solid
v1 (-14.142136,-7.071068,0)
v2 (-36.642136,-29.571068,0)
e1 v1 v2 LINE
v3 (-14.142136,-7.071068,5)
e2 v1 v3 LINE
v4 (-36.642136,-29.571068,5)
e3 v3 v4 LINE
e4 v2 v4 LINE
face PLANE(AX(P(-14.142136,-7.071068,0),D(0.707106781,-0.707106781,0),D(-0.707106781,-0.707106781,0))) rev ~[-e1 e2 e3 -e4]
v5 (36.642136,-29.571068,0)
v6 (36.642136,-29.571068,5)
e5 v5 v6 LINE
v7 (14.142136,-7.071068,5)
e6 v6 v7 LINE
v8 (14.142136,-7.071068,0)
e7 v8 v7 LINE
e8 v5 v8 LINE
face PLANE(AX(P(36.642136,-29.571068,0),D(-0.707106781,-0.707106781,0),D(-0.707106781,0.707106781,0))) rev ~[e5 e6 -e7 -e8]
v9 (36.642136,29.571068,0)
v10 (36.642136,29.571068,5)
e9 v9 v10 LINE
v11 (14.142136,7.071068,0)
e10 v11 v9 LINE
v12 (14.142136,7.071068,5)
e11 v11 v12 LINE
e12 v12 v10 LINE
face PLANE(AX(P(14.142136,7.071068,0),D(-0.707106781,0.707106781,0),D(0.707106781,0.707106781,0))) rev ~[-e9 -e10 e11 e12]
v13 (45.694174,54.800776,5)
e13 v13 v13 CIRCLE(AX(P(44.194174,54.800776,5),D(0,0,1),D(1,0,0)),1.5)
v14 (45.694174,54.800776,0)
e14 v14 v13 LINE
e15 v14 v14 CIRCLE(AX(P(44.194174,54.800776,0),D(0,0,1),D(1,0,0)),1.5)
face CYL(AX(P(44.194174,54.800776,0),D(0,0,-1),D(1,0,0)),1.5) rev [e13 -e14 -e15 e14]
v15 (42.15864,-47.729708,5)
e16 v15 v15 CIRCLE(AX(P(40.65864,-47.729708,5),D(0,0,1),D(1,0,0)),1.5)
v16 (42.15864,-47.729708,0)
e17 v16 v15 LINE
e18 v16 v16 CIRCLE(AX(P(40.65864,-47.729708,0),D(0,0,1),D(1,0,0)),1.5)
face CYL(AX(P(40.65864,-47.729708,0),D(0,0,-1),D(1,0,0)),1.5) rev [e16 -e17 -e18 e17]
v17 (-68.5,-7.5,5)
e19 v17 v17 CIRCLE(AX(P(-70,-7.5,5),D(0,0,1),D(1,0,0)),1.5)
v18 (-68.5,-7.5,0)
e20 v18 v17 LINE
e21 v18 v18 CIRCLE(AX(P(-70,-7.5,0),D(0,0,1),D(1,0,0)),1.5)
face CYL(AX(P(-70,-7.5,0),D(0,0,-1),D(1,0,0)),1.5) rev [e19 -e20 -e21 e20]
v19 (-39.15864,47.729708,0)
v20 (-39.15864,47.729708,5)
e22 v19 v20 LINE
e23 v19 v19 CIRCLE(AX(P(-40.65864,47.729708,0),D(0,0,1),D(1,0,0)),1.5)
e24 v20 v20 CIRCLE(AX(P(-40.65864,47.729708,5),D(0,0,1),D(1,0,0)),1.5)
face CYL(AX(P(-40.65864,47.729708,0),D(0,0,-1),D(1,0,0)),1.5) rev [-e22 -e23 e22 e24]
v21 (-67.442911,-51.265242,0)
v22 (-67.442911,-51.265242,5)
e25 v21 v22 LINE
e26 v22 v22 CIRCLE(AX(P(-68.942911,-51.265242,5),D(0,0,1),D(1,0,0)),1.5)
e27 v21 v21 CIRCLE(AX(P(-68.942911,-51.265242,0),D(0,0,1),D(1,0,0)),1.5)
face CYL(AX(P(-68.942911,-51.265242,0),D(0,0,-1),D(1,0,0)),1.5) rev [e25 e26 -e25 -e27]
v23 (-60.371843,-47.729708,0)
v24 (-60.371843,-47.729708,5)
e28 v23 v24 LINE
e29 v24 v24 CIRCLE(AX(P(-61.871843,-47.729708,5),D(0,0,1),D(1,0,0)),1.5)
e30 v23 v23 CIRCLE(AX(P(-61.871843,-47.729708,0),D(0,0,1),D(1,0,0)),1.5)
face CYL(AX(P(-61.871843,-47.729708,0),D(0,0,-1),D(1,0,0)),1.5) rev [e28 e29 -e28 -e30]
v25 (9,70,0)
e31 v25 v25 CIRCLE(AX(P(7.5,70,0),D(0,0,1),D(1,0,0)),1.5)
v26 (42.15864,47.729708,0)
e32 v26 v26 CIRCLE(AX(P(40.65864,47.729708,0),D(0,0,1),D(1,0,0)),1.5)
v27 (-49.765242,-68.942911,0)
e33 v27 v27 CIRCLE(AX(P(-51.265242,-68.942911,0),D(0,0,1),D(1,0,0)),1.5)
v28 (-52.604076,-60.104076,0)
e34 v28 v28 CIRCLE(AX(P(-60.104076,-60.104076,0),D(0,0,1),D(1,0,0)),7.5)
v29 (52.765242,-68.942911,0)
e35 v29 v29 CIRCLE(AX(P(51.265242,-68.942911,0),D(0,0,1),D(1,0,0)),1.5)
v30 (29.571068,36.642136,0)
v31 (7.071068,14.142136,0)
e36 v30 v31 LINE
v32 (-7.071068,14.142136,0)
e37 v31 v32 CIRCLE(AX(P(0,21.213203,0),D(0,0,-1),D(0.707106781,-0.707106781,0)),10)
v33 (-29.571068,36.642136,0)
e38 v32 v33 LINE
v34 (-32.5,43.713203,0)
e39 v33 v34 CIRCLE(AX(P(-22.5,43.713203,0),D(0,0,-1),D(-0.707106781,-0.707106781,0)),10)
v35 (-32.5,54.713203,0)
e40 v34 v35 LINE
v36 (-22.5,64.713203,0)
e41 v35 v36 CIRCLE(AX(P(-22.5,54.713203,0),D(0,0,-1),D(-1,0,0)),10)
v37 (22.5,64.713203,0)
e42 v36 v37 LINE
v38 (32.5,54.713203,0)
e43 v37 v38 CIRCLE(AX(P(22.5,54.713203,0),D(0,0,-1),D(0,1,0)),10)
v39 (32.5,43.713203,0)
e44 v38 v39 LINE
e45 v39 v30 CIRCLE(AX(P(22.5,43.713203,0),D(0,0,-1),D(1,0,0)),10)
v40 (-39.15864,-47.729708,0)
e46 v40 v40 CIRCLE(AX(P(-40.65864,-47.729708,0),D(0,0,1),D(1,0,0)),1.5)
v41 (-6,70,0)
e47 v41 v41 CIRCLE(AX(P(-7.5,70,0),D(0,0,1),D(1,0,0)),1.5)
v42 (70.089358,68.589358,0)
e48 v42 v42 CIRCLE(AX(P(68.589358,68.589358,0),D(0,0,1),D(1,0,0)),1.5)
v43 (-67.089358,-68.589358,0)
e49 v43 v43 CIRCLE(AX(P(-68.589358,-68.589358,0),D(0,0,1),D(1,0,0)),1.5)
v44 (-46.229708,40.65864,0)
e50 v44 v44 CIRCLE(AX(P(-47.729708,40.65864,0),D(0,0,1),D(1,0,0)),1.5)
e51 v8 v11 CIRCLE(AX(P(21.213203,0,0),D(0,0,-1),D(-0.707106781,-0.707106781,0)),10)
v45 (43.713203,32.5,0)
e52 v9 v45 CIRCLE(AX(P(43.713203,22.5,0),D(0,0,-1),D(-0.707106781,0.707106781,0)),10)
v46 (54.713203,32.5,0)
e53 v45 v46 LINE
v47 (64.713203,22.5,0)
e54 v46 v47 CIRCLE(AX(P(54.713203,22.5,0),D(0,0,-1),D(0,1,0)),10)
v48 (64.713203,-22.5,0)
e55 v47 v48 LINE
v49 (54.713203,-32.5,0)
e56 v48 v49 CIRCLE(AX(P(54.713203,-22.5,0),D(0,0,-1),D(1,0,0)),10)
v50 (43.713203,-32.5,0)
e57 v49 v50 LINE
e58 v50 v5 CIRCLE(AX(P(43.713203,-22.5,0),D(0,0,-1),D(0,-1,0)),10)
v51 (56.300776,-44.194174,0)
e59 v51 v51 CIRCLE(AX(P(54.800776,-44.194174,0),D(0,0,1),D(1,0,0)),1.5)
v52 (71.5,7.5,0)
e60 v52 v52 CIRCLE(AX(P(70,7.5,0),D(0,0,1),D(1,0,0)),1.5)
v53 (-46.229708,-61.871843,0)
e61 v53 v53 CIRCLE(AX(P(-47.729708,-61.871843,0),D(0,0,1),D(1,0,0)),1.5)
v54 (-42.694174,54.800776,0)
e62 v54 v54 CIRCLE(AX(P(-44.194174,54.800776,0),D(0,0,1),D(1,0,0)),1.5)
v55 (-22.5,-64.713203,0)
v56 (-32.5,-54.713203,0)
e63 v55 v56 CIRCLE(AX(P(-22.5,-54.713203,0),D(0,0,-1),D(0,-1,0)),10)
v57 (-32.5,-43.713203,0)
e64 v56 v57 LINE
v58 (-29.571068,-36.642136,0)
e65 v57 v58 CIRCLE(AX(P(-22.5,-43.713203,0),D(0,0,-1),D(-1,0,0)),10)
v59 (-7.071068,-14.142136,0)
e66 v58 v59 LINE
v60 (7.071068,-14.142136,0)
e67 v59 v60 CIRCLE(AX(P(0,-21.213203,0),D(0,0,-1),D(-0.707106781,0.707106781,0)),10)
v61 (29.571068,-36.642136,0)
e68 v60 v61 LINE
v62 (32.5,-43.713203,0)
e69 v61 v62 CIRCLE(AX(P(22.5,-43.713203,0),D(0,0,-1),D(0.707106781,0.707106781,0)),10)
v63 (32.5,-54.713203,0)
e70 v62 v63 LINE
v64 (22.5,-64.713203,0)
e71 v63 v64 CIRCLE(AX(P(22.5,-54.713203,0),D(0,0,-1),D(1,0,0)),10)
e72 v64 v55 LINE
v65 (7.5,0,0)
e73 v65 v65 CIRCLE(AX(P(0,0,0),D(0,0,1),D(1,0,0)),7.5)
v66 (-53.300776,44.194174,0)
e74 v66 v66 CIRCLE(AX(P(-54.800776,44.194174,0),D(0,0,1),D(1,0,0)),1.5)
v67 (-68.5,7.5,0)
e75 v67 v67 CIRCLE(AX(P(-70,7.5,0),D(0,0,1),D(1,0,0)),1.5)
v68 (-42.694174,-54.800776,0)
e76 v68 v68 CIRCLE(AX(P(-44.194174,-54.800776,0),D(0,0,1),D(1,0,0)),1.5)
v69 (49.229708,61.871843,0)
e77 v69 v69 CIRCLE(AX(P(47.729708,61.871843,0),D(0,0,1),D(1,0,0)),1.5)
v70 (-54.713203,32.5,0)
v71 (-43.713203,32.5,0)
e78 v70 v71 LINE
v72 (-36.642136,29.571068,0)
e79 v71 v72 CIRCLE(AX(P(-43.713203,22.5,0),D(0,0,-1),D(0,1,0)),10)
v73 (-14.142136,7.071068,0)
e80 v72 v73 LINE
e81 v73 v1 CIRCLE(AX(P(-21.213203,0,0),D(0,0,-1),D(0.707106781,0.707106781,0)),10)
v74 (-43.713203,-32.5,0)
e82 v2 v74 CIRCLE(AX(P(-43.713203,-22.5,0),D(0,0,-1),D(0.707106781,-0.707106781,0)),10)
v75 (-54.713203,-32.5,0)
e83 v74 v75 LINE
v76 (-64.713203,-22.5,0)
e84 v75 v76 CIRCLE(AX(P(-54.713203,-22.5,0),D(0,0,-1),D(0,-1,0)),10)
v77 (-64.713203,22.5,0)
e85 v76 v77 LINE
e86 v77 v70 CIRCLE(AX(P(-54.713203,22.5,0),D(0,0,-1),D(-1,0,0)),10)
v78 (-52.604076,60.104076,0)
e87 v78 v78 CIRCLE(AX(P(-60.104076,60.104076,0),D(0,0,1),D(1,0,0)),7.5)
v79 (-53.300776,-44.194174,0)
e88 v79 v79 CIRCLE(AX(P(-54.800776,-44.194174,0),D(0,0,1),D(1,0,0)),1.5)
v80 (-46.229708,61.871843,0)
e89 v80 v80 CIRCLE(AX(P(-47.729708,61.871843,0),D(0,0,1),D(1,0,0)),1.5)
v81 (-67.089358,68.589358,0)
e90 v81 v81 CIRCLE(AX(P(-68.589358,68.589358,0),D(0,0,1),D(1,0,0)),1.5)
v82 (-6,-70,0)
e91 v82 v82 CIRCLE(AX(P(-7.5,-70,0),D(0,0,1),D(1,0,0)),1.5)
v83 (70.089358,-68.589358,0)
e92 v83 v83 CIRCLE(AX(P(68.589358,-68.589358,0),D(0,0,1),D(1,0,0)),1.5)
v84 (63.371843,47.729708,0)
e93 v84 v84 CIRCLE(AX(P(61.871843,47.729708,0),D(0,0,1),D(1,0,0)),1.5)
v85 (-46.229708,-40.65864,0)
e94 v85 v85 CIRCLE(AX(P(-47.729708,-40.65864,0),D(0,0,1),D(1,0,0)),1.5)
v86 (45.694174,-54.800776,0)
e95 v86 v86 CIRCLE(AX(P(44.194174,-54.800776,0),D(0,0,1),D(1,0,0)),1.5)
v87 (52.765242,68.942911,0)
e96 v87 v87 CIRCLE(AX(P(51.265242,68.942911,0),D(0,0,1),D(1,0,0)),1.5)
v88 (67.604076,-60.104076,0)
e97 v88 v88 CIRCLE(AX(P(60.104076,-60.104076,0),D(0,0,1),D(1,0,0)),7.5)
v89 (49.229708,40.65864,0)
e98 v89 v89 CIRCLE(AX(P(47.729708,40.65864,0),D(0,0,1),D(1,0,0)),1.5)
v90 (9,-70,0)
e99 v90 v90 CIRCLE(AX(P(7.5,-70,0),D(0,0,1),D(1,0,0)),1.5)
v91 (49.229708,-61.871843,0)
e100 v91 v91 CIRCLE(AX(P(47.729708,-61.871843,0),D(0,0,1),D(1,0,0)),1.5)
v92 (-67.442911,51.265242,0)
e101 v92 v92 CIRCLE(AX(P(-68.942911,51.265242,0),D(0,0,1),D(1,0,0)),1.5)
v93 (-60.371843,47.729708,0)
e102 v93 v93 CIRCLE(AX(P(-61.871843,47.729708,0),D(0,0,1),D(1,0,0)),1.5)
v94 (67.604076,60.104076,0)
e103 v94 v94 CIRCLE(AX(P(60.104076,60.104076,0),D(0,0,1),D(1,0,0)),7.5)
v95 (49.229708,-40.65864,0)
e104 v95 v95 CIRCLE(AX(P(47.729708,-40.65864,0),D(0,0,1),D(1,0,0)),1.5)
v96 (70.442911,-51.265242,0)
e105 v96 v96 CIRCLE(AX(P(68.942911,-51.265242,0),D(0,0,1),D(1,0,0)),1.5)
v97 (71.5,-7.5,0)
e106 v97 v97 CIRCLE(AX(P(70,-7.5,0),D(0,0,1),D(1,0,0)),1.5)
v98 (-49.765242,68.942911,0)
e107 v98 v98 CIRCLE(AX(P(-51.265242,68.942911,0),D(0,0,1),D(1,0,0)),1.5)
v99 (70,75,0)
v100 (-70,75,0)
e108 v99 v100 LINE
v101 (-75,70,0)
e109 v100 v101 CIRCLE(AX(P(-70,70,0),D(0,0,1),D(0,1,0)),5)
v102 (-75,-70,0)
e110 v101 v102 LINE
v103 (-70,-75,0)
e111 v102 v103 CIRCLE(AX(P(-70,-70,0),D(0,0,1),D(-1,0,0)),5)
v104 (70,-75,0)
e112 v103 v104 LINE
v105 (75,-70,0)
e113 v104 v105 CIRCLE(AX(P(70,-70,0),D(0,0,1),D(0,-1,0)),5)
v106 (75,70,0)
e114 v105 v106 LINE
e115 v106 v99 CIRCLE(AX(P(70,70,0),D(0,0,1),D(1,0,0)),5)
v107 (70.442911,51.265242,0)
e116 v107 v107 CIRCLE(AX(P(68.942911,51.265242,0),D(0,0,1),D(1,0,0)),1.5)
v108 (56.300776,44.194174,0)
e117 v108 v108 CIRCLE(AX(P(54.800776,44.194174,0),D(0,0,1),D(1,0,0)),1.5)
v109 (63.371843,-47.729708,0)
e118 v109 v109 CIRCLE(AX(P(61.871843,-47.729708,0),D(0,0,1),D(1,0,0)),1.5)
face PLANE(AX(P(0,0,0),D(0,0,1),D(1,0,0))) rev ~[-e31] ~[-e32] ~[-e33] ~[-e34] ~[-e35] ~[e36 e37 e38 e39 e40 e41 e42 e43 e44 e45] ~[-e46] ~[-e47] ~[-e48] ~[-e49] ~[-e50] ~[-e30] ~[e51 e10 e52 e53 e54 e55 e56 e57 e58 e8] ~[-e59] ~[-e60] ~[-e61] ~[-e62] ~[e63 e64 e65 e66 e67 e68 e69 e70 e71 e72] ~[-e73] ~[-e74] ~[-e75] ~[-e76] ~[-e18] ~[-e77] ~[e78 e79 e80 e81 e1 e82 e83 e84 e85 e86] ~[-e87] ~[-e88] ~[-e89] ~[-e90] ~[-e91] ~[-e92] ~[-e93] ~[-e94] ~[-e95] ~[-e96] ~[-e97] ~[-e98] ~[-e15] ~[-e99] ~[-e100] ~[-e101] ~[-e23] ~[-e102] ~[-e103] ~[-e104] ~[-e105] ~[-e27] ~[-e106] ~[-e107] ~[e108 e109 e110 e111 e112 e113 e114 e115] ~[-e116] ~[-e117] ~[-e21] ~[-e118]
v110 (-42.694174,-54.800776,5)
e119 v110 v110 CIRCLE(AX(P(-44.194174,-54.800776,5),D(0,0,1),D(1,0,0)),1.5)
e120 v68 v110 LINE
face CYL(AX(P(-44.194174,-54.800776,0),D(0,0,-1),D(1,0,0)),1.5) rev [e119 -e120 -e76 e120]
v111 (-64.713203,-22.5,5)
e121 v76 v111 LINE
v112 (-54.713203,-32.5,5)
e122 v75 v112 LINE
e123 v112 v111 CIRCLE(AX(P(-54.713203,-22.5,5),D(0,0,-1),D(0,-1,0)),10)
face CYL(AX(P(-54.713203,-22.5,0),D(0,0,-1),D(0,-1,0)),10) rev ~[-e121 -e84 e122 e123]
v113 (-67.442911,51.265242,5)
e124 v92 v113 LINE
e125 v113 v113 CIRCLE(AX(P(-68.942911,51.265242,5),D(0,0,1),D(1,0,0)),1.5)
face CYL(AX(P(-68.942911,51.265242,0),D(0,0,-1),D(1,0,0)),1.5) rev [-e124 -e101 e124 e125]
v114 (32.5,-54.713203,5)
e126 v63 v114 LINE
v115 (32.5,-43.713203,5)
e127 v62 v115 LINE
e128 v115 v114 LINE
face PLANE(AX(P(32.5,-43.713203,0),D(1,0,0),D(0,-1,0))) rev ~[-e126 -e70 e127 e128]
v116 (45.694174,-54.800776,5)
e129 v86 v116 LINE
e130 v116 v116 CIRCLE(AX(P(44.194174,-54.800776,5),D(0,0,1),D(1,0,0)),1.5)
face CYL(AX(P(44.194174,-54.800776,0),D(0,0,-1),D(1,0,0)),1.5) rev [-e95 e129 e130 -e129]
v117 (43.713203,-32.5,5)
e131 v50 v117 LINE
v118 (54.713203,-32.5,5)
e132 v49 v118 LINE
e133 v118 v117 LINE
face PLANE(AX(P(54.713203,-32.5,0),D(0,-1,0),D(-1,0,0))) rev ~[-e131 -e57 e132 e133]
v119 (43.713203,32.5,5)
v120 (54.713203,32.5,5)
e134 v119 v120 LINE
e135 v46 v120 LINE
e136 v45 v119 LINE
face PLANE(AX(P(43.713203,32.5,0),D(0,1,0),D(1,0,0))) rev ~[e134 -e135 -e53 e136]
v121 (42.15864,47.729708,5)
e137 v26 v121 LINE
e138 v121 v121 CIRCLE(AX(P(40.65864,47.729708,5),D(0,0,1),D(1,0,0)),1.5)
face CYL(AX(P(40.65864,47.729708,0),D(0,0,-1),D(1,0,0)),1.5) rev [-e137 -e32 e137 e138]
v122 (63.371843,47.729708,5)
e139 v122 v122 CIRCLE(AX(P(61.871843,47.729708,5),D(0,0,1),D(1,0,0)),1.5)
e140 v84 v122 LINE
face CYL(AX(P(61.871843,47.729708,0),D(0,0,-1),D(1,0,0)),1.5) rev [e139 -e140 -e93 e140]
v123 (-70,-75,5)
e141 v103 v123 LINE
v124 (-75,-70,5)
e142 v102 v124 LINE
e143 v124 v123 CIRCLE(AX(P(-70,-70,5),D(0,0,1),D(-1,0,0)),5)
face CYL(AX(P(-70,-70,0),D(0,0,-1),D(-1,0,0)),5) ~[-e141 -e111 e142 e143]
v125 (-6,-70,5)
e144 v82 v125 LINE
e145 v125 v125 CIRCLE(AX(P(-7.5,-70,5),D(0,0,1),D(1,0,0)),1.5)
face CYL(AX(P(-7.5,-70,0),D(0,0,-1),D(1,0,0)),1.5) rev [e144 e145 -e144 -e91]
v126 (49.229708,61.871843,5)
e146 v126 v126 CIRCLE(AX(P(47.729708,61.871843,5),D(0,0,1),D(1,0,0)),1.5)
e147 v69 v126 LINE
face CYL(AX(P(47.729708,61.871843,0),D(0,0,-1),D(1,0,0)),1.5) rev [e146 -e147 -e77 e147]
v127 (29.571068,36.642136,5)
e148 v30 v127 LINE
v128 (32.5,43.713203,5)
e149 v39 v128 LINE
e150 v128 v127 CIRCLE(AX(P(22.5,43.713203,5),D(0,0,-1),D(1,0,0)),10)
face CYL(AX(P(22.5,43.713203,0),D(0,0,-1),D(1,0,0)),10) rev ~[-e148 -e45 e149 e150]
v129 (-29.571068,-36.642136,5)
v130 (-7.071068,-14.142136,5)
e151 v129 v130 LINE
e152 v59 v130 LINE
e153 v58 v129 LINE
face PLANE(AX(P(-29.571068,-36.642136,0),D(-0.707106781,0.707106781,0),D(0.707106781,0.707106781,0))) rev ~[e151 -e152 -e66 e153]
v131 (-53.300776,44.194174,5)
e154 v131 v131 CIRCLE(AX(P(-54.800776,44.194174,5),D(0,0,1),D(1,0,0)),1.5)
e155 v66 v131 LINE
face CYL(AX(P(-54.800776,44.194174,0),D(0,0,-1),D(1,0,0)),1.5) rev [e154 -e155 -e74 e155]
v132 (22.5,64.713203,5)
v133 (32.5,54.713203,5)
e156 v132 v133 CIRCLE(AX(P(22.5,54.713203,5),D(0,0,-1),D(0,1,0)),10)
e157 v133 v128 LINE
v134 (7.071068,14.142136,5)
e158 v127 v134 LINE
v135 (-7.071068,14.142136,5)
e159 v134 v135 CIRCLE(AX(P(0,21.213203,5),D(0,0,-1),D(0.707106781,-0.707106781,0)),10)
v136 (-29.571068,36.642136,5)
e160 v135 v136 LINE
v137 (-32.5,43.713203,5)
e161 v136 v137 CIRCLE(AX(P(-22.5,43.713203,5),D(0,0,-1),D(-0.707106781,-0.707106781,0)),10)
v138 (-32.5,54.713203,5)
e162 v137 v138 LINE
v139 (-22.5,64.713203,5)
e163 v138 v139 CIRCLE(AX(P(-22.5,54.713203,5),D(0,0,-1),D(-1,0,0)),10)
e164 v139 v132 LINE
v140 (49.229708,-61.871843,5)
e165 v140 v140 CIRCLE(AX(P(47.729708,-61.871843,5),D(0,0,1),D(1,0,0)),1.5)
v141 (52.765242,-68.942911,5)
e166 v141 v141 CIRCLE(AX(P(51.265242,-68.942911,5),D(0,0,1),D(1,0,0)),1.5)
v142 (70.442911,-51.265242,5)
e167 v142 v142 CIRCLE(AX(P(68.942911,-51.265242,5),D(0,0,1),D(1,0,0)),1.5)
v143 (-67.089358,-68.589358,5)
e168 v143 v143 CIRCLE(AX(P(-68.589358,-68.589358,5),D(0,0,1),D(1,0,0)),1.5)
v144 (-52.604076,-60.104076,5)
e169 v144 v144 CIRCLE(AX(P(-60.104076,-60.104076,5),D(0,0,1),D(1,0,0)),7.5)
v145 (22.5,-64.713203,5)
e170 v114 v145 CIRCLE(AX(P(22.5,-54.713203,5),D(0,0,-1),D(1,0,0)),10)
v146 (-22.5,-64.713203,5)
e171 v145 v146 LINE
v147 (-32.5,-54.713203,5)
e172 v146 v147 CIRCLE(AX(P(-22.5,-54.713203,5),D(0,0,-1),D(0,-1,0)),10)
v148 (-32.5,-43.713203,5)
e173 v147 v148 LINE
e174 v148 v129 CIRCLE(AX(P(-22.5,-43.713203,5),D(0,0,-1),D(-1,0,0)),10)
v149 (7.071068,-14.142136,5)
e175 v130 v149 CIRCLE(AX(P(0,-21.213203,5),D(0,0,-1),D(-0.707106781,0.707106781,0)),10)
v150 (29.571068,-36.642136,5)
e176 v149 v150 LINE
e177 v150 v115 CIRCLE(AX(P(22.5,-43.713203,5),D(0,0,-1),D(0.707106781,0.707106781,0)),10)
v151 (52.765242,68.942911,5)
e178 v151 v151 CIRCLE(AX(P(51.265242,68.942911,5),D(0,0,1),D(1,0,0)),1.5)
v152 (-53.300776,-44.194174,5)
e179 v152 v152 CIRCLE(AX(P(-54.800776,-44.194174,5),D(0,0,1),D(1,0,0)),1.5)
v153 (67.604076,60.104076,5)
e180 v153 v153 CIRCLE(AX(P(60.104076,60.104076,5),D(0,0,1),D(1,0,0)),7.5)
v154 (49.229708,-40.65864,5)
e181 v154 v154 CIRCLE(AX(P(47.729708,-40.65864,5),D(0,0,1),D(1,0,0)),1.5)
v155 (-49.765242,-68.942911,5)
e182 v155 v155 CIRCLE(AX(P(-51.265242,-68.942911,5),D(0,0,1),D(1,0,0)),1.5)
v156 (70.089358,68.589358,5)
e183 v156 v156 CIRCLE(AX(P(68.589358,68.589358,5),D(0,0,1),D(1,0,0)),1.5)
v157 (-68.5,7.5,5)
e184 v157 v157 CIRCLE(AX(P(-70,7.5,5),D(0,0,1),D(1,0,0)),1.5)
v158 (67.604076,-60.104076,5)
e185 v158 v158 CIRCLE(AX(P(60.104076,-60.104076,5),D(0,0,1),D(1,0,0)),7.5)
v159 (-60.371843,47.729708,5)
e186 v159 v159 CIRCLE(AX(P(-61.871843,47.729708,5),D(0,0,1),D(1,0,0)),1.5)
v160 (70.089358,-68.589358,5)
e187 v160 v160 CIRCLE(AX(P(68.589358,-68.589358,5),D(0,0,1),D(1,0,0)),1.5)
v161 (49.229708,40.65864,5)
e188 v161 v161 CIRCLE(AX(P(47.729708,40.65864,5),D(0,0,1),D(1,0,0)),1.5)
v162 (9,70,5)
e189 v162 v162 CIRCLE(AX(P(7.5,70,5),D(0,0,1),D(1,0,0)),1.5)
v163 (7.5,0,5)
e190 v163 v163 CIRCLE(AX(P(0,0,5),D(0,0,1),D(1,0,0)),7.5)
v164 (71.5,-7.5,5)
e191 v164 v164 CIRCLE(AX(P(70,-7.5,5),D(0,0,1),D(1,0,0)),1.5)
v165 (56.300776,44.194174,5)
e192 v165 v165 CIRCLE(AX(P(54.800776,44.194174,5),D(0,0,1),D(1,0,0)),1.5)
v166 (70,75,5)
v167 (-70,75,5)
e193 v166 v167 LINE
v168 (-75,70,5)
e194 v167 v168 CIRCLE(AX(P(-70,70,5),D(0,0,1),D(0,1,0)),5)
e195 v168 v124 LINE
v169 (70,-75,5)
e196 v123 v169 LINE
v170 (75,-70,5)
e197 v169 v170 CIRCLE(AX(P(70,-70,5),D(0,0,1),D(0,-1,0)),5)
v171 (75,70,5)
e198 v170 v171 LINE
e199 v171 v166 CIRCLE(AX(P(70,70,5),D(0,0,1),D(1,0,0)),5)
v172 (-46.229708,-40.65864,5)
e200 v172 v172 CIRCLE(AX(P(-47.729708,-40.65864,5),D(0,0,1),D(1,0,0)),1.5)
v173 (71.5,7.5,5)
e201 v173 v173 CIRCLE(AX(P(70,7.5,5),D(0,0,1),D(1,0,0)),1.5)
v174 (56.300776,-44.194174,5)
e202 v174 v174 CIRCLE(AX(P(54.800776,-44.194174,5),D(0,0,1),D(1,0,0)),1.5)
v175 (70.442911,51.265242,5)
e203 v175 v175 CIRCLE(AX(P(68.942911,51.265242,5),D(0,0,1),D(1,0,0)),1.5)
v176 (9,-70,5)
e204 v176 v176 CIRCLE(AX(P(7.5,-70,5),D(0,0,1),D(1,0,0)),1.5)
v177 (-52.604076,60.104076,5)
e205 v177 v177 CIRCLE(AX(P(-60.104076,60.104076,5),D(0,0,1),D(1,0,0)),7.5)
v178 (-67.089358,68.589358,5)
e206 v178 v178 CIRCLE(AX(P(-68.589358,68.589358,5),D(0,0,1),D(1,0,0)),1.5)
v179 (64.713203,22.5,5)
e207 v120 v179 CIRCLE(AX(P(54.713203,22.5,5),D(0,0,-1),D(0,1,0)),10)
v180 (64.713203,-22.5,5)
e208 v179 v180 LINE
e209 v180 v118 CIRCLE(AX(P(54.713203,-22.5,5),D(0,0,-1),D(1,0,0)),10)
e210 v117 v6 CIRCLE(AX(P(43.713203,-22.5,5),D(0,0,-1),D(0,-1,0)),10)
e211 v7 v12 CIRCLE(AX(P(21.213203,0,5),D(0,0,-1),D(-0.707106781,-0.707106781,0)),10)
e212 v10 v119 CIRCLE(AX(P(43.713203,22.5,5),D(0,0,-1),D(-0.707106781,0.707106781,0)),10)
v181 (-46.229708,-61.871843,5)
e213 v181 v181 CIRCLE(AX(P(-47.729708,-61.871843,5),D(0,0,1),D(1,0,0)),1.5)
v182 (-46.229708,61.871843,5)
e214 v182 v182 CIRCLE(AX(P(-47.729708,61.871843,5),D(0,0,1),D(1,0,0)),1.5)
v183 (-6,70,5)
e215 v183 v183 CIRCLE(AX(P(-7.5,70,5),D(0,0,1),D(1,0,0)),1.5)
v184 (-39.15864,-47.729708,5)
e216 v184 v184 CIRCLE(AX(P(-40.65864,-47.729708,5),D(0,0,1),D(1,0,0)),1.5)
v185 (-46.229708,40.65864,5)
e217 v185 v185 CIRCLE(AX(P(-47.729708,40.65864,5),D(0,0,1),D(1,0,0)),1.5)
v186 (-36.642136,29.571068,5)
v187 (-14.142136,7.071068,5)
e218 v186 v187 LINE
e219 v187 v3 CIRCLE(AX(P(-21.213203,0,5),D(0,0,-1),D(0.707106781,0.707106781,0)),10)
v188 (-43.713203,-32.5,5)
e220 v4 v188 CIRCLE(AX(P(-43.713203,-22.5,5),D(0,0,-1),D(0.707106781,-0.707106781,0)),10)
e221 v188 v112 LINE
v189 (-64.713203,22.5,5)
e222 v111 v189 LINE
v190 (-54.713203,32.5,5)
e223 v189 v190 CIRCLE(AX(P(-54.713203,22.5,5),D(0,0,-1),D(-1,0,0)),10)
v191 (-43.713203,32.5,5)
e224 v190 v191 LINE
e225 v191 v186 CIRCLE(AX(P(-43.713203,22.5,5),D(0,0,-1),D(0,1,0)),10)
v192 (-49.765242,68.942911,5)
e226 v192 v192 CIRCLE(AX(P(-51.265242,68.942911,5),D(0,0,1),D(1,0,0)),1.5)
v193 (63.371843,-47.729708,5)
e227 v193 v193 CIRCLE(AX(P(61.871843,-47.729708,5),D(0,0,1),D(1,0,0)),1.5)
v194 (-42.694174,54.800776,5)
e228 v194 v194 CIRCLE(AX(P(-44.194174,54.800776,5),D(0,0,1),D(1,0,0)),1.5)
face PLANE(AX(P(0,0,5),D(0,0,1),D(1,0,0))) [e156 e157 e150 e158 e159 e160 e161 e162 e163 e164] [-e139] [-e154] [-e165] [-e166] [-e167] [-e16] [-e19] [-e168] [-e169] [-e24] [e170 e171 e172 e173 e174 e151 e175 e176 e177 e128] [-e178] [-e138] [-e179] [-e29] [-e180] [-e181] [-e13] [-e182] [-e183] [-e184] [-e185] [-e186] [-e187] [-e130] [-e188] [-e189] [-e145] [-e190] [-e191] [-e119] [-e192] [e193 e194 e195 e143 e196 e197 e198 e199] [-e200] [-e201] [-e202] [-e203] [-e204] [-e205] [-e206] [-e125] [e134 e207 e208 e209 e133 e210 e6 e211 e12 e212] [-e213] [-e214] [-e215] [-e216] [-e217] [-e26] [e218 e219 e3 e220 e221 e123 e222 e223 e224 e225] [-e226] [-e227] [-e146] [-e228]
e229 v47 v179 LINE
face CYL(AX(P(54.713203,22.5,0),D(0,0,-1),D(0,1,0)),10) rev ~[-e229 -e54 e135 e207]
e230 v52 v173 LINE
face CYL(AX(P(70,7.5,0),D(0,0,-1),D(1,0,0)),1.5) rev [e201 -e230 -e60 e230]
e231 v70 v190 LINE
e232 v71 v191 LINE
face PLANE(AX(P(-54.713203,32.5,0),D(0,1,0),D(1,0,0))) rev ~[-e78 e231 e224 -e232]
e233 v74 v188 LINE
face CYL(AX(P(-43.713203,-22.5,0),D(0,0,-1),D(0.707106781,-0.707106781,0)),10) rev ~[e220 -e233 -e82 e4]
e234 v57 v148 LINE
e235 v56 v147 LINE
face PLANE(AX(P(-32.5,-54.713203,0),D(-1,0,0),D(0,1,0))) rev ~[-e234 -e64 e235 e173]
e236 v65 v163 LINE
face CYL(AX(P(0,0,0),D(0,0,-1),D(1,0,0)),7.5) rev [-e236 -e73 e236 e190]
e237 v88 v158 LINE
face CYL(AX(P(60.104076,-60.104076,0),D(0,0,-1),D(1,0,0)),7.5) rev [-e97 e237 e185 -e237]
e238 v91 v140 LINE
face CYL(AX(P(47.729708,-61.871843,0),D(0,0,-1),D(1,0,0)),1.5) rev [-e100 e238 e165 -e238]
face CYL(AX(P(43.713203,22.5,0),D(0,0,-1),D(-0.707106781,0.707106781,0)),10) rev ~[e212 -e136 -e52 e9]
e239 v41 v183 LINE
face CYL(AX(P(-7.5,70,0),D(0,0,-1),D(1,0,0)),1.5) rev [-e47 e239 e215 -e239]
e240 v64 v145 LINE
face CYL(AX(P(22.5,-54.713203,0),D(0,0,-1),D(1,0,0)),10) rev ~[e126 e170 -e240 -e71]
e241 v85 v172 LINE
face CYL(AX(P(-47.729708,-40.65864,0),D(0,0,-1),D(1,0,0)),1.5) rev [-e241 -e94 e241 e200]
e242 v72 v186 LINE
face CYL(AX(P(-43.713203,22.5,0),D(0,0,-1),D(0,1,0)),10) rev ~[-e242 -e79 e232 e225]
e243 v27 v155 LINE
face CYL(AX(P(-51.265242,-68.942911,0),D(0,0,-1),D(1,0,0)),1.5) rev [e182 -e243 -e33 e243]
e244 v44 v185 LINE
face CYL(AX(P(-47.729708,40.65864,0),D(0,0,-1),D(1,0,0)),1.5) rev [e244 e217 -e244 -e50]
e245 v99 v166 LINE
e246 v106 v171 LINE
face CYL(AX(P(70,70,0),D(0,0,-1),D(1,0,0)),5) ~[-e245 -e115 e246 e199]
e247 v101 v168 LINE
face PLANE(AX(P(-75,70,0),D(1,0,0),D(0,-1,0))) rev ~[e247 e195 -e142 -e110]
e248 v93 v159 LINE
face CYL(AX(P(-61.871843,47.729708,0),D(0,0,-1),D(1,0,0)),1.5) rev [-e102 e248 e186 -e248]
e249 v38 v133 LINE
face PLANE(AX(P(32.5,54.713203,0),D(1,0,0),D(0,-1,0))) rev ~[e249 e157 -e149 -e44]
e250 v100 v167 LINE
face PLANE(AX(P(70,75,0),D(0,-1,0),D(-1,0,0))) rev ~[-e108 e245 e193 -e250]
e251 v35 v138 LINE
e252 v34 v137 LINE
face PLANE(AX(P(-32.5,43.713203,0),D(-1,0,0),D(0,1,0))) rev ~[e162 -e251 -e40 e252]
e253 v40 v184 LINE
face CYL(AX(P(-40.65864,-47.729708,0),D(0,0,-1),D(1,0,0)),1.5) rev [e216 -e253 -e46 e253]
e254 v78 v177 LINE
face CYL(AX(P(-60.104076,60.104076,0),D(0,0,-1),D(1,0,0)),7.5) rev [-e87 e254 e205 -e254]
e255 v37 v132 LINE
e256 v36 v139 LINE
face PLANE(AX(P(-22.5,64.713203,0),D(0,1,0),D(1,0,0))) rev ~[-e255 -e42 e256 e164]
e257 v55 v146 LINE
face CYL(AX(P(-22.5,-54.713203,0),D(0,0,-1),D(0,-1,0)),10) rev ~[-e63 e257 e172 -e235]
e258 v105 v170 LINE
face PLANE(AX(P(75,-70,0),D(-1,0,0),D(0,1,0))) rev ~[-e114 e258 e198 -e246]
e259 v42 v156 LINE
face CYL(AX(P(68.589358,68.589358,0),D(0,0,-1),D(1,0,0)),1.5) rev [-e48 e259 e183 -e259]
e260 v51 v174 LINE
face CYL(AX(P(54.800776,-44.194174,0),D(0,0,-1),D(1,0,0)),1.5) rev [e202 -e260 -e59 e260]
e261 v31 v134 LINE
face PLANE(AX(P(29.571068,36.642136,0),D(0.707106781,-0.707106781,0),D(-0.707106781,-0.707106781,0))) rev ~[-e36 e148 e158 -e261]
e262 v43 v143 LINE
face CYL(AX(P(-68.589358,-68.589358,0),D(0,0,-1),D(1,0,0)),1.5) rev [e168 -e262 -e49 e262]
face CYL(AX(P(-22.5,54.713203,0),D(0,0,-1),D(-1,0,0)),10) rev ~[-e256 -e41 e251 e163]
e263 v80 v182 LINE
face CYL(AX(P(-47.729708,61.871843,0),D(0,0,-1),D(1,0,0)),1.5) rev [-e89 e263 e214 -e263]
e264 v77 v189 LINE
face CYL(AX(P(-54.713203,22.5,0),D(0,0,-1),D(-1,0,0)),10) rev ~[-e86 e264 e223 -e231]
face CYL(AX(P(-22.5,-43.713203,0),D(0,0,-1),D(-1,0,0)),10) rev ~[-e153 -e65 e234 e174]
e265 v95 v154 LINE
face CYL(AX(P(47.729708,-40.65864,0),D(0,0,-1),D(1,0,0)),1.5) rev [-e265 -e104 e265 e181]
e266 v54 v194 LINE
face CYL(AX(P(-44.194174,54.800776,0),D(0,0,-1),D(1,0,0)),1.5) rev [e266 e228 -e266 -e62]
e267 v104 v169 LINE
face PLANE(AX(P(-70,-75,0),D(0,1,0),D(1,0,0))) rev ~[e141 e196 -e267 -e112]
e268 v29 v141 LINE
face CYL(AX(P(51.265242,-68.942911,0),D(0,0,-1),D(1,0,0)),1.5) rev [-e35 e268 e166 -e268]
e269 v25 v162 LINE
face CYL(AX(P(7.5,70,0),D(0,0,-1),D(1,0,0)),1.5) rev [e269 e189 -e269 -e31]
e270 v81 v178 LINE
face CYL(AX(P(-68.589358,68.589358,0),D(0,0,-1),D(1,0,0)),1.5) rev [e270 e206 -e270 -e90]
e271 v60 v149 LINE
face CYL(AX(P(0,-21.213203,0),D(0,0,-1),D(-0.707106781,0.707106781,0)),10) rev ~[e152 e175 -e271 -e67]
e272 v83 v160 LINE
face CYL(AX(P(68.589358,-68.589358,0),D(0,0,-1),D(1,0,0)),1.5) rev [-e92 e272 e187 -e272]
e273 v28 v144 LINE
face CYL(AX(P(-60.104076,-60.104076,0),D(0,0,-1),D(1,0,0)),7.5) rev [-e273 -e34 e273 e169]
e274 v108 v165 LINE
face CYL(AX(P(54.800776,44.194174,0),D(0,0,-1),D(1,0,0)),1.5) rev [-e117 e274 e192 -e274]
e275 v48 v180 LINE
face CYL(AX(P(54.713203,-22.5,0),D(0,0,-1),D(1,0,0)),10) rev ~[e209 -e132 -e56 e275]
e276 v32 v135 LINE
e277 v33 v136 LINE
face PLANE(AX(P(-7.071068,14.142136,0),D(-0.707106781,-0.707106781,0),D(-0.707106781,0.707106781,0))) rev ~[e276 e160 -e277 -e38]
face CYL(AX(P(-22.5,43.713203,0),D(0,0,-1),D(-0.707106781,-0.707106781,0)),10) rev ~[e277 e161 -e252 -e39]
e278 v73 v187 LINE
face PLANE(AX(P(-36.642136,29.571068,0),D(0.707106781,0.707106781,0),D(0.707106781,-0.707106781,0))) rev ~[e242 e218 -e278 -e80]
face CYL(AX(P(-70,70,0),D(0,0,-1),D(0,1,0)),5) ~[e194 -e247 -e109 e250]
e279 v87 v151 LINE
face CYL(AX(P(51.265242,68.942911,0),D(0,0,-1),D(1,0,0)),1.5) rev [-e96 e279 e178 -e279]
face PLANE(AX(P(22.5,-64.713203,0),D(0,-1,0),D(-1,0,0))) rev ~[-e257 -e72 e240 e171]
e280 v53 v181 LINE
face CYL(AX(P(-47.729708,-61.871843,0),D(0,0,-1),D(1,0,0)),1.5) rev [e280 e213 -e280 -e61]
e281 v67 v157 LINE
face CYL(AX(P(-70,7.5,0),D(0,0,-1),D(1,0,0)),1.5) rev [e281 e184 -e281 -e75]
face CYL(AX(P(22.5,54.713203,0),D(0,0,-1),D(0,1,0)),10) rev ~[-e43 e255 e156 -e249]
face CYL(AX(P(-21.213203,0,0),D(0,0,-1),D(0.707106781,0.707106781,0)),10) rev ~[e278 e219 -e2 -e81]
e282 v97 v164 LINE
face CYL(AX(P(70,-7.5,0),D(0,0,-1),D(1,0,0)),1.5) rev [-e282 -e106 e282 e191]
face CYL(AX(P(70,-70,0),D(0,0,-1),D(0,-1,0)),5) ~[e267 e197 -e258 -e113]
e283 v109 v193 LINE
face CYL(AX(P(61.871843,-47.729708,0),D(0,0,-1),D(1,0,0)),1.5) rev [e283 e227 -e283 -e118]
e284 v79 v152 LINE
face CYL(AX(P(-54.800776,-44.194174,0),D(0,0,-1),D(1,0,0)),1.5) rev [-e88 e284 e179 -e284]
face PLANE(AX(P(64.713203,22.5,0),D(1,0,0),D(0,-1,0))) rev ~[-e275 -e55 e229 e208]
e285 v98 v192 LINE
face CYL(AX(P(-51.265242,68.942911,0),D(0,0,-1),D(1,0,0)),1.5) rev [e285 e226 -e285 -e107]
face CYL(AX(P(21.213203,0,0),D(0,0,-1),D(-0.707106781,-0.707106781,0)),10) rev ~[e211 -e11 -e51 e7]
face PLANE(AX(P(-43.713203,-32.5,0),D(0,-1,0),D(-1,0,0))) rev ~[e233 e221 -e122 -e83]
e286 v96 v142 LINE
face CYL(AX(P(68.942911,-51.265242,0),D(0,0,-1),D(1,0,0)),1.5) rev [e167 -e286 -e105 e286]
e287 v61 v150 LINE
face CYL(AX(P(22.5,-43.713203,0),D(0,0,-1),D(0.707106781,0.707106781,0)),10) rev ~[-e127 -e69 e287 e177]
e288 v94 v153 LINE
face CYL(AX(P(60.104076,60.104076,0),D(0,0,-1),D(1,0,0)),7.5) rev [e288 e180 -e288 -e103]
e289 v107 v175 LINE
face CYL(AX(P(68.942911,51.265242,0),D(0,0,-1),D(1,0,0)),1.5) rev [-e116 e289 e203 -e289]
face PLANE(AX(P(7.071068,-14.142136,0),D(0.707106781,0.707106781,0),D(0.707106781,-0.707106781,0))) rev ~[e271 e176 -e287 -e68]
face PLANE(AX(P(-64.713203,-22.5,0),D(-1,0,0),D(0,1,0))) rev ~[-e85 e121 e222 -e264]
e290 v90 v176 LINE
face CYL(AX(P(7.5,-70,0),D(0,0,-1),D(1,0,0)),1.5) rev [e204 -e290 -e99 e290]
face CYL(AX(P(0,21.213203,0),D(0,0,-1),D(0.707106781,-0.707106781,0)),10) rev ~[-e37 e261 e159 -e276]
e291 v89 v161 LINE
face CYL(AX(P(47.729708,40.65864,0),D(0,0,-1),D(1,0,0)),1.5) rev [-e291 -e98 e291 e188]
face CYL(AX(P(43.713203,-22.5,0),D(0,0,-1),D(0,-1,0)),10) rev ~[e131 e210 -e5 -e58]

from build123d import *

# Parameters (mm, degrees)
SKETCH1_R           = 7.5
SKETCH1_R_2         = 1.5
BOSS_EXTRUDE1_DEPTH = 5


with BuildPart() as part:
    # Sketch1 → Boss-Extrude1 (new body)
    with BuildSketch(Plane.XY):
        with BuildLine():
            Line((70, 75), (-70, 75))
            ThreePointArc((-70, 75), (-73.535533906, 73.535533906), (-75, 70))
            Line((-75, 70), (-75, -70))
            ThreePointArc((-75, -70), (-73.535533906, -73.535533906), (-70, -75))
            Line((-70, -75), (70, -75))
            ThreePointArc((70, -75), (73.535533906, -73.535533906), (75, -70))
            Line((75, -70), (75, 70))
            ThreePointArc((75, 70), (73.535533906, 73.535533906), (70, 75))
        make_face()
        with Locations((-60.104076401, 60.104076401)):
            Circle(SKETCH1_R, mode=Mode.SUBTRACT)
        with Locations((60.104076401, 60.104076401)):
            Circle(SKETCH1_R, mode=Mode.SUBTRACT)
        with Locations((60.104076401, -60.104076401)):
            Circle(SKETCH1_R, mode=Mode.SUBTRACT)
        with Locations((-60.104076401, -60.104076401)):
            Circle(SKETCH1_R, mode=Mode.SUBTRACT)
        Circle(SKETCH1_R, mode=Mode.SUBTRACT)
        with Locations((-7.5, 70)):
            Circle(SKETCH1_R_2, mode=Mode.SUBTRACT)
        with Locations((7.5, 70)):
            Circle(SKETCH1_R_2, mode=Mode.SUBTRACT)
        with Locations((70, 7.5)):
            Circle(SKETCH1_R_2, mode=Mode.SUBTRACT)
        with Locations((70, -7.5)):
            Circle(SKETCH1_R_2, mode=Mode.SUBTRACT)
        with Locations((7.5, -70)):
            Circle(SKETCH1_R_2, mode=Mode.SUBTRACT)
        with Locations((-7.5, -70)):
            Circle(SKETCH1_R_2, mode=Mode.SUBTRACT)
        with Locations((-70, -7.5)):
            Circle(SKETCH1_R_2, mode=Mode.SUBTRACT)
        with Locations((-70, 7.5)):
            Circle(SKETCH1_R_2, mode=Mode.SUBTRACT)
        with Locations((40.658639918, 47.72970773)):
            Circle(SKETCH1_R_2, mode=Mode.SUBTRACT)
        with Locations((47.72970773, 40.658639918)):
            Circle(SKETCH1_R_2, mode=Mode.SUBTRACT)
        with Locations((44.194173824, 54.800775542)):
            Circle(SKETCH1_R_2, mode=Mode.SUBTRACT)
        with Locations((54.800775542, 44.194173824)):
            Circle(SKETCH1_R_2, mode=Mode.SUBTRACT)
        with Locations((61.871843354, 47.72970773)):
            Circle(SKETCH1_R_2, mode=Mode.SUBTRACT)
        with Locations((47.72970773, 61.871843354)):
            Circle(SKETCH1_R_2, mode=Mode.SUBTRACT)
        with Locations((51.265241636, 68.942911166)):
            Circle(SKETCH1_R_2, mode=Mode.SUBTRACT)
        with Locations((68.942911166, 51.265241636)):
            Circle(SKETCH1_R_2, mode=Mode.SUBTRACT)
        with Locations((47.72970773, -40.658639918)):
            Circle(SKETCH1_R_2, mode=Mode.SUBTRACT)
        with Locations((54.800775542, -44.194173824)):
            Circle(SKETCH1_R_2, mode=Mode.SUBTRACT)
        with Locations((61.871843354, -47.72970773)):
            Circle(SKETCH1_R_2, mode=Mode.SUBTRACT)
        with Locations((68.942911166, -51.265241636)):
            Circle(SKETCH1_R_2, mode=Mode.SUBTRACT)
        with Locations((51.265241636, -68.942911166)):
            Circle(SKETCH1_R_2, mode=Mode.SUBTRACT)
        with Locations((47.72970773, -61.871843354)):
            Circle(SKETCH1_R_2, mode=Mode.SUBTRACT)
        with Locations((44.194173824, -54.800775542)):
            Circle(SKETCH1_R_2, mode=Mode.SUBTRACT)
        with Locations((40.658639918, -47.72970773)):
            Circle(SKETCH1_R_2, mode=Mode.SUBTRACT)
        with Locations((-40.658639918, -47.72970773)):
            Circle(SKETCH1_R_2, mode=Mode.SUBTRACT)
        with Locations((-44.194173824, -54.800775542)):
            Circle(SKETCH1_R_2, mode=Mode.SUBTRACT)
        with Locations((-47.72970773, -61.871843354)):
            Circle(SKETCH1_R_2, mode=Mode.SUBTRACT)
        with Locations((-51.265241636, -68.942911166)):
            Circle(SKETCH1_R_2, mode=Mode.SUBTRACT)
        with Locations((-68.942911166, -51.265241636)):
            Circle(SKETCH1_R_2, mode=Mode.SUBTRACT)
        with Locations((-61.871843354, -47.72970773)):
            Circle(SKETCH1_R_2, mode=Mode.SUBTRACT)
        with Locations((-54.800775542, -44.194173824)):
            Circle(SKETCH1_R_2, mode=Mode.SUBTRACT)
        with Locations((-47.72970773, -40.658639918)):
            Circle(SKETCH1_R_2, mode=Mode.SUBTRACT)
        with Locations((-47.72970773, 40.658639918)):
            Circle(SKETCH1_R_2, mode=Mode.SUBTRACT)
        with Locations((-54.800775542, 44.194173824)):
            Circle(SKETCH1_R_2, mode=Mode.SUBTRACT)
        with Locations((-61.871843354, 47.72970773)):
            Circle(SKETCH1_R_2, mode=Mode.SUBTRACT)
        with Locations((-68.942911166, 51.265241636)):
            Circle(SKETCH1_R_2, mode=Mode.SUBTRACT)
        with Locations((-51.265241636, 68.942911166)):
            Circle(SKETCH1_R_2, mode=Mode.SUBTRACT)
        with Locations((-47.72970773, 61.871843354)):
            Circle(SKETCH1_R_2, mode=Mode.SUBTRACT)
        with Locations((-44.194173824, 54.800775542)):
            Circle(SKETCH1_R_2, mode=Mode.SUBTRACT)
        with Locations((-40.658639918, 47.72970773)):
            Circle(SKETCH1_R_2, mode=Mode.SUBTRACT)
        with Locations((68.589357775, 68.589357775)):
            Circle(SKETCH1_R_2, mode=Mode.SUBTRACT)
        with Locations((68.589357775, -68.589357775)):
            Circle(SKETCH1_R_2, mode=Mode.SUBTRACT)
        with Locations((-68.589357775, -68.589357775)):
            Circle(SKETCH1_R_2, mode=Mode.SUBTRACT)
        with Locations((-68.589357775, 68.589357775)):
            Circle(SKETCH1_R_2, mode=Mode.SUBTRACT)
        with BuildLine():
            Line((14.142135624, 7.071067812), (36.642135624, 29.571067812))
            ThreePointArc((36.642135624, 29.571067812), (39.886369112, 31.738795325), (43.713203436, 32.5))
            Line((43.713203436, 32.5), (54.713203436, 32.5))
            ThreePointArc((54.713203436, 32.5), (61.784271247, 29.571067812), (64.713203436, 22.5))
            Line((64.713203436, 22.5), (64.713203436, -22.5))
            ThreePointArc((64.713203436, -22.5), (61.784271247, -29.571067812), (54.713203436, -32.5))
            Line((54.713203436, -32.5), (43.713203436, -32.5))
            ThreePointArc((43.713203436, -32.5), (39.886369112, -31.738795325), (36.642135624, -29.571067812))
            Line((36.642135624, -29.571067812), (14.142135624, -7.071067812))
            ThreePointArc((14.142135624, -7.071067812), (11.213203436, 0), (14.142135624, 7.071067812))
        make_face(mode=Mode.SUBTRACT)
        with BuildLine():
            Line((-22.5, 64.713203436), (22.5, 64.713203436))
            ThreePointArc((22.5, 64.713203436), (29.571067812, 61.784271247), (32.5, 54.713203436))
            Line((32.5, 54.713203436), (32.5, 43.713203436))
            ThreePointArc((32.5, 43.713203436), (31.738795325, 39.886369112), (29.571067812, 36.642135624))
            Line((29.571067812, 36.642135624), (7.071067812, 14.142135624))
            ThreePointArc((7.071067812, 14.142135624), (0, 11.213203436), (-7.071067812, 14.142135624))
            Line((-7.071067812, 14.142135624), (-29.571067812, 36.642135624))
            ThreePointArc((-29.571067812, 36.642135624), (-31.738795325, 39.886369112), (-32.5, 43.713203436))
            Line((-32.5, 43.713203436), (-32.5, 54.713203436))
            ThreePointArc((-32.5, 54.713203436), (-29.571067812, 61.784271247), (-22.5, 64.713203436))
        make_face(mode=Mode.SUBTRACT)
        with BuildLine():
            Line((7.071067812, -14.142135624), (29.571067812, -36.642135624))
            ThreePointArc((29.571067812, -36.642135624), (31.738795325, -39.886369112), (32.5, -43.713203436))
            Line((32.5, -43.713203436), (32.5, -54.713203436))
            ThreePointArc((32.5, -54.713203436), (29.571067812, -61.784271247), (22.5, -64.713203436))
            Line((22.5, -64.713203436), (-22.5, -64.713203436))
            ThreePointArc((-22.5, -64.713203436), (-29.571067812, -61.784271247), (-32.5, -54.713203436))
            Line((-32.5, -54.713203436), (-32.5, -43.713203436))
            ThreePointArc((-32.5, -43.713203436), (-31.738795325, -39.886369112), (-29.571067812, -36.642135624))
            Line((-29.571067812, -36.642135624), (-7.071067812, -14.142135624))
            ThreePointArc((-7.071067812, -14.142135624), (0, -11.213203436), (7.071067812, -14.142135624))
        make_face(mode=Mode.SUBTRACT)
        with BuildLine():
            Line((-14.142135624, -7.071067812), (-36.642135624, -29.571067812))
            ThreePointArc((-36.642135624, -29.571067812), (-39.886369112, -31.738795325), (-43.713203436, -32.5))
            Line((-43.713203436, -32.5), (-54.713203436, -32.5))
            ThreePointArc((-54.713203436, -32.5), (-61.784271247, -29.571067812), (-64.713203436, -22.5))
            Line((-64.713203436, -22.5), (-64.713203436, 22.5))
            ThreePointArc((-64.713203436, 22.5), (-61.784271247, 29.571067812), (-54.713203436, 32.5))
            Line((-54.713203436, 32.5), (-43.713203436, 32.5))
            ThreePointArc((-43.713203436, 32.5), (-39.886369112, 31.738795325), (-36.642135624, 29.571067812))
            Line((-36.642135624, 29.571067812), (-14.142135624, 7.071067812))
            ThreePointArc((-14.142135624, 7.071067812), (-11.213203436, 0), (-14.142135624, -7.071067812))
        make_face(mode=Mode.SUBTRACT)
    extrude(amount=BOSS_EXTRUDE1_DEPTH)


solid = part.part
